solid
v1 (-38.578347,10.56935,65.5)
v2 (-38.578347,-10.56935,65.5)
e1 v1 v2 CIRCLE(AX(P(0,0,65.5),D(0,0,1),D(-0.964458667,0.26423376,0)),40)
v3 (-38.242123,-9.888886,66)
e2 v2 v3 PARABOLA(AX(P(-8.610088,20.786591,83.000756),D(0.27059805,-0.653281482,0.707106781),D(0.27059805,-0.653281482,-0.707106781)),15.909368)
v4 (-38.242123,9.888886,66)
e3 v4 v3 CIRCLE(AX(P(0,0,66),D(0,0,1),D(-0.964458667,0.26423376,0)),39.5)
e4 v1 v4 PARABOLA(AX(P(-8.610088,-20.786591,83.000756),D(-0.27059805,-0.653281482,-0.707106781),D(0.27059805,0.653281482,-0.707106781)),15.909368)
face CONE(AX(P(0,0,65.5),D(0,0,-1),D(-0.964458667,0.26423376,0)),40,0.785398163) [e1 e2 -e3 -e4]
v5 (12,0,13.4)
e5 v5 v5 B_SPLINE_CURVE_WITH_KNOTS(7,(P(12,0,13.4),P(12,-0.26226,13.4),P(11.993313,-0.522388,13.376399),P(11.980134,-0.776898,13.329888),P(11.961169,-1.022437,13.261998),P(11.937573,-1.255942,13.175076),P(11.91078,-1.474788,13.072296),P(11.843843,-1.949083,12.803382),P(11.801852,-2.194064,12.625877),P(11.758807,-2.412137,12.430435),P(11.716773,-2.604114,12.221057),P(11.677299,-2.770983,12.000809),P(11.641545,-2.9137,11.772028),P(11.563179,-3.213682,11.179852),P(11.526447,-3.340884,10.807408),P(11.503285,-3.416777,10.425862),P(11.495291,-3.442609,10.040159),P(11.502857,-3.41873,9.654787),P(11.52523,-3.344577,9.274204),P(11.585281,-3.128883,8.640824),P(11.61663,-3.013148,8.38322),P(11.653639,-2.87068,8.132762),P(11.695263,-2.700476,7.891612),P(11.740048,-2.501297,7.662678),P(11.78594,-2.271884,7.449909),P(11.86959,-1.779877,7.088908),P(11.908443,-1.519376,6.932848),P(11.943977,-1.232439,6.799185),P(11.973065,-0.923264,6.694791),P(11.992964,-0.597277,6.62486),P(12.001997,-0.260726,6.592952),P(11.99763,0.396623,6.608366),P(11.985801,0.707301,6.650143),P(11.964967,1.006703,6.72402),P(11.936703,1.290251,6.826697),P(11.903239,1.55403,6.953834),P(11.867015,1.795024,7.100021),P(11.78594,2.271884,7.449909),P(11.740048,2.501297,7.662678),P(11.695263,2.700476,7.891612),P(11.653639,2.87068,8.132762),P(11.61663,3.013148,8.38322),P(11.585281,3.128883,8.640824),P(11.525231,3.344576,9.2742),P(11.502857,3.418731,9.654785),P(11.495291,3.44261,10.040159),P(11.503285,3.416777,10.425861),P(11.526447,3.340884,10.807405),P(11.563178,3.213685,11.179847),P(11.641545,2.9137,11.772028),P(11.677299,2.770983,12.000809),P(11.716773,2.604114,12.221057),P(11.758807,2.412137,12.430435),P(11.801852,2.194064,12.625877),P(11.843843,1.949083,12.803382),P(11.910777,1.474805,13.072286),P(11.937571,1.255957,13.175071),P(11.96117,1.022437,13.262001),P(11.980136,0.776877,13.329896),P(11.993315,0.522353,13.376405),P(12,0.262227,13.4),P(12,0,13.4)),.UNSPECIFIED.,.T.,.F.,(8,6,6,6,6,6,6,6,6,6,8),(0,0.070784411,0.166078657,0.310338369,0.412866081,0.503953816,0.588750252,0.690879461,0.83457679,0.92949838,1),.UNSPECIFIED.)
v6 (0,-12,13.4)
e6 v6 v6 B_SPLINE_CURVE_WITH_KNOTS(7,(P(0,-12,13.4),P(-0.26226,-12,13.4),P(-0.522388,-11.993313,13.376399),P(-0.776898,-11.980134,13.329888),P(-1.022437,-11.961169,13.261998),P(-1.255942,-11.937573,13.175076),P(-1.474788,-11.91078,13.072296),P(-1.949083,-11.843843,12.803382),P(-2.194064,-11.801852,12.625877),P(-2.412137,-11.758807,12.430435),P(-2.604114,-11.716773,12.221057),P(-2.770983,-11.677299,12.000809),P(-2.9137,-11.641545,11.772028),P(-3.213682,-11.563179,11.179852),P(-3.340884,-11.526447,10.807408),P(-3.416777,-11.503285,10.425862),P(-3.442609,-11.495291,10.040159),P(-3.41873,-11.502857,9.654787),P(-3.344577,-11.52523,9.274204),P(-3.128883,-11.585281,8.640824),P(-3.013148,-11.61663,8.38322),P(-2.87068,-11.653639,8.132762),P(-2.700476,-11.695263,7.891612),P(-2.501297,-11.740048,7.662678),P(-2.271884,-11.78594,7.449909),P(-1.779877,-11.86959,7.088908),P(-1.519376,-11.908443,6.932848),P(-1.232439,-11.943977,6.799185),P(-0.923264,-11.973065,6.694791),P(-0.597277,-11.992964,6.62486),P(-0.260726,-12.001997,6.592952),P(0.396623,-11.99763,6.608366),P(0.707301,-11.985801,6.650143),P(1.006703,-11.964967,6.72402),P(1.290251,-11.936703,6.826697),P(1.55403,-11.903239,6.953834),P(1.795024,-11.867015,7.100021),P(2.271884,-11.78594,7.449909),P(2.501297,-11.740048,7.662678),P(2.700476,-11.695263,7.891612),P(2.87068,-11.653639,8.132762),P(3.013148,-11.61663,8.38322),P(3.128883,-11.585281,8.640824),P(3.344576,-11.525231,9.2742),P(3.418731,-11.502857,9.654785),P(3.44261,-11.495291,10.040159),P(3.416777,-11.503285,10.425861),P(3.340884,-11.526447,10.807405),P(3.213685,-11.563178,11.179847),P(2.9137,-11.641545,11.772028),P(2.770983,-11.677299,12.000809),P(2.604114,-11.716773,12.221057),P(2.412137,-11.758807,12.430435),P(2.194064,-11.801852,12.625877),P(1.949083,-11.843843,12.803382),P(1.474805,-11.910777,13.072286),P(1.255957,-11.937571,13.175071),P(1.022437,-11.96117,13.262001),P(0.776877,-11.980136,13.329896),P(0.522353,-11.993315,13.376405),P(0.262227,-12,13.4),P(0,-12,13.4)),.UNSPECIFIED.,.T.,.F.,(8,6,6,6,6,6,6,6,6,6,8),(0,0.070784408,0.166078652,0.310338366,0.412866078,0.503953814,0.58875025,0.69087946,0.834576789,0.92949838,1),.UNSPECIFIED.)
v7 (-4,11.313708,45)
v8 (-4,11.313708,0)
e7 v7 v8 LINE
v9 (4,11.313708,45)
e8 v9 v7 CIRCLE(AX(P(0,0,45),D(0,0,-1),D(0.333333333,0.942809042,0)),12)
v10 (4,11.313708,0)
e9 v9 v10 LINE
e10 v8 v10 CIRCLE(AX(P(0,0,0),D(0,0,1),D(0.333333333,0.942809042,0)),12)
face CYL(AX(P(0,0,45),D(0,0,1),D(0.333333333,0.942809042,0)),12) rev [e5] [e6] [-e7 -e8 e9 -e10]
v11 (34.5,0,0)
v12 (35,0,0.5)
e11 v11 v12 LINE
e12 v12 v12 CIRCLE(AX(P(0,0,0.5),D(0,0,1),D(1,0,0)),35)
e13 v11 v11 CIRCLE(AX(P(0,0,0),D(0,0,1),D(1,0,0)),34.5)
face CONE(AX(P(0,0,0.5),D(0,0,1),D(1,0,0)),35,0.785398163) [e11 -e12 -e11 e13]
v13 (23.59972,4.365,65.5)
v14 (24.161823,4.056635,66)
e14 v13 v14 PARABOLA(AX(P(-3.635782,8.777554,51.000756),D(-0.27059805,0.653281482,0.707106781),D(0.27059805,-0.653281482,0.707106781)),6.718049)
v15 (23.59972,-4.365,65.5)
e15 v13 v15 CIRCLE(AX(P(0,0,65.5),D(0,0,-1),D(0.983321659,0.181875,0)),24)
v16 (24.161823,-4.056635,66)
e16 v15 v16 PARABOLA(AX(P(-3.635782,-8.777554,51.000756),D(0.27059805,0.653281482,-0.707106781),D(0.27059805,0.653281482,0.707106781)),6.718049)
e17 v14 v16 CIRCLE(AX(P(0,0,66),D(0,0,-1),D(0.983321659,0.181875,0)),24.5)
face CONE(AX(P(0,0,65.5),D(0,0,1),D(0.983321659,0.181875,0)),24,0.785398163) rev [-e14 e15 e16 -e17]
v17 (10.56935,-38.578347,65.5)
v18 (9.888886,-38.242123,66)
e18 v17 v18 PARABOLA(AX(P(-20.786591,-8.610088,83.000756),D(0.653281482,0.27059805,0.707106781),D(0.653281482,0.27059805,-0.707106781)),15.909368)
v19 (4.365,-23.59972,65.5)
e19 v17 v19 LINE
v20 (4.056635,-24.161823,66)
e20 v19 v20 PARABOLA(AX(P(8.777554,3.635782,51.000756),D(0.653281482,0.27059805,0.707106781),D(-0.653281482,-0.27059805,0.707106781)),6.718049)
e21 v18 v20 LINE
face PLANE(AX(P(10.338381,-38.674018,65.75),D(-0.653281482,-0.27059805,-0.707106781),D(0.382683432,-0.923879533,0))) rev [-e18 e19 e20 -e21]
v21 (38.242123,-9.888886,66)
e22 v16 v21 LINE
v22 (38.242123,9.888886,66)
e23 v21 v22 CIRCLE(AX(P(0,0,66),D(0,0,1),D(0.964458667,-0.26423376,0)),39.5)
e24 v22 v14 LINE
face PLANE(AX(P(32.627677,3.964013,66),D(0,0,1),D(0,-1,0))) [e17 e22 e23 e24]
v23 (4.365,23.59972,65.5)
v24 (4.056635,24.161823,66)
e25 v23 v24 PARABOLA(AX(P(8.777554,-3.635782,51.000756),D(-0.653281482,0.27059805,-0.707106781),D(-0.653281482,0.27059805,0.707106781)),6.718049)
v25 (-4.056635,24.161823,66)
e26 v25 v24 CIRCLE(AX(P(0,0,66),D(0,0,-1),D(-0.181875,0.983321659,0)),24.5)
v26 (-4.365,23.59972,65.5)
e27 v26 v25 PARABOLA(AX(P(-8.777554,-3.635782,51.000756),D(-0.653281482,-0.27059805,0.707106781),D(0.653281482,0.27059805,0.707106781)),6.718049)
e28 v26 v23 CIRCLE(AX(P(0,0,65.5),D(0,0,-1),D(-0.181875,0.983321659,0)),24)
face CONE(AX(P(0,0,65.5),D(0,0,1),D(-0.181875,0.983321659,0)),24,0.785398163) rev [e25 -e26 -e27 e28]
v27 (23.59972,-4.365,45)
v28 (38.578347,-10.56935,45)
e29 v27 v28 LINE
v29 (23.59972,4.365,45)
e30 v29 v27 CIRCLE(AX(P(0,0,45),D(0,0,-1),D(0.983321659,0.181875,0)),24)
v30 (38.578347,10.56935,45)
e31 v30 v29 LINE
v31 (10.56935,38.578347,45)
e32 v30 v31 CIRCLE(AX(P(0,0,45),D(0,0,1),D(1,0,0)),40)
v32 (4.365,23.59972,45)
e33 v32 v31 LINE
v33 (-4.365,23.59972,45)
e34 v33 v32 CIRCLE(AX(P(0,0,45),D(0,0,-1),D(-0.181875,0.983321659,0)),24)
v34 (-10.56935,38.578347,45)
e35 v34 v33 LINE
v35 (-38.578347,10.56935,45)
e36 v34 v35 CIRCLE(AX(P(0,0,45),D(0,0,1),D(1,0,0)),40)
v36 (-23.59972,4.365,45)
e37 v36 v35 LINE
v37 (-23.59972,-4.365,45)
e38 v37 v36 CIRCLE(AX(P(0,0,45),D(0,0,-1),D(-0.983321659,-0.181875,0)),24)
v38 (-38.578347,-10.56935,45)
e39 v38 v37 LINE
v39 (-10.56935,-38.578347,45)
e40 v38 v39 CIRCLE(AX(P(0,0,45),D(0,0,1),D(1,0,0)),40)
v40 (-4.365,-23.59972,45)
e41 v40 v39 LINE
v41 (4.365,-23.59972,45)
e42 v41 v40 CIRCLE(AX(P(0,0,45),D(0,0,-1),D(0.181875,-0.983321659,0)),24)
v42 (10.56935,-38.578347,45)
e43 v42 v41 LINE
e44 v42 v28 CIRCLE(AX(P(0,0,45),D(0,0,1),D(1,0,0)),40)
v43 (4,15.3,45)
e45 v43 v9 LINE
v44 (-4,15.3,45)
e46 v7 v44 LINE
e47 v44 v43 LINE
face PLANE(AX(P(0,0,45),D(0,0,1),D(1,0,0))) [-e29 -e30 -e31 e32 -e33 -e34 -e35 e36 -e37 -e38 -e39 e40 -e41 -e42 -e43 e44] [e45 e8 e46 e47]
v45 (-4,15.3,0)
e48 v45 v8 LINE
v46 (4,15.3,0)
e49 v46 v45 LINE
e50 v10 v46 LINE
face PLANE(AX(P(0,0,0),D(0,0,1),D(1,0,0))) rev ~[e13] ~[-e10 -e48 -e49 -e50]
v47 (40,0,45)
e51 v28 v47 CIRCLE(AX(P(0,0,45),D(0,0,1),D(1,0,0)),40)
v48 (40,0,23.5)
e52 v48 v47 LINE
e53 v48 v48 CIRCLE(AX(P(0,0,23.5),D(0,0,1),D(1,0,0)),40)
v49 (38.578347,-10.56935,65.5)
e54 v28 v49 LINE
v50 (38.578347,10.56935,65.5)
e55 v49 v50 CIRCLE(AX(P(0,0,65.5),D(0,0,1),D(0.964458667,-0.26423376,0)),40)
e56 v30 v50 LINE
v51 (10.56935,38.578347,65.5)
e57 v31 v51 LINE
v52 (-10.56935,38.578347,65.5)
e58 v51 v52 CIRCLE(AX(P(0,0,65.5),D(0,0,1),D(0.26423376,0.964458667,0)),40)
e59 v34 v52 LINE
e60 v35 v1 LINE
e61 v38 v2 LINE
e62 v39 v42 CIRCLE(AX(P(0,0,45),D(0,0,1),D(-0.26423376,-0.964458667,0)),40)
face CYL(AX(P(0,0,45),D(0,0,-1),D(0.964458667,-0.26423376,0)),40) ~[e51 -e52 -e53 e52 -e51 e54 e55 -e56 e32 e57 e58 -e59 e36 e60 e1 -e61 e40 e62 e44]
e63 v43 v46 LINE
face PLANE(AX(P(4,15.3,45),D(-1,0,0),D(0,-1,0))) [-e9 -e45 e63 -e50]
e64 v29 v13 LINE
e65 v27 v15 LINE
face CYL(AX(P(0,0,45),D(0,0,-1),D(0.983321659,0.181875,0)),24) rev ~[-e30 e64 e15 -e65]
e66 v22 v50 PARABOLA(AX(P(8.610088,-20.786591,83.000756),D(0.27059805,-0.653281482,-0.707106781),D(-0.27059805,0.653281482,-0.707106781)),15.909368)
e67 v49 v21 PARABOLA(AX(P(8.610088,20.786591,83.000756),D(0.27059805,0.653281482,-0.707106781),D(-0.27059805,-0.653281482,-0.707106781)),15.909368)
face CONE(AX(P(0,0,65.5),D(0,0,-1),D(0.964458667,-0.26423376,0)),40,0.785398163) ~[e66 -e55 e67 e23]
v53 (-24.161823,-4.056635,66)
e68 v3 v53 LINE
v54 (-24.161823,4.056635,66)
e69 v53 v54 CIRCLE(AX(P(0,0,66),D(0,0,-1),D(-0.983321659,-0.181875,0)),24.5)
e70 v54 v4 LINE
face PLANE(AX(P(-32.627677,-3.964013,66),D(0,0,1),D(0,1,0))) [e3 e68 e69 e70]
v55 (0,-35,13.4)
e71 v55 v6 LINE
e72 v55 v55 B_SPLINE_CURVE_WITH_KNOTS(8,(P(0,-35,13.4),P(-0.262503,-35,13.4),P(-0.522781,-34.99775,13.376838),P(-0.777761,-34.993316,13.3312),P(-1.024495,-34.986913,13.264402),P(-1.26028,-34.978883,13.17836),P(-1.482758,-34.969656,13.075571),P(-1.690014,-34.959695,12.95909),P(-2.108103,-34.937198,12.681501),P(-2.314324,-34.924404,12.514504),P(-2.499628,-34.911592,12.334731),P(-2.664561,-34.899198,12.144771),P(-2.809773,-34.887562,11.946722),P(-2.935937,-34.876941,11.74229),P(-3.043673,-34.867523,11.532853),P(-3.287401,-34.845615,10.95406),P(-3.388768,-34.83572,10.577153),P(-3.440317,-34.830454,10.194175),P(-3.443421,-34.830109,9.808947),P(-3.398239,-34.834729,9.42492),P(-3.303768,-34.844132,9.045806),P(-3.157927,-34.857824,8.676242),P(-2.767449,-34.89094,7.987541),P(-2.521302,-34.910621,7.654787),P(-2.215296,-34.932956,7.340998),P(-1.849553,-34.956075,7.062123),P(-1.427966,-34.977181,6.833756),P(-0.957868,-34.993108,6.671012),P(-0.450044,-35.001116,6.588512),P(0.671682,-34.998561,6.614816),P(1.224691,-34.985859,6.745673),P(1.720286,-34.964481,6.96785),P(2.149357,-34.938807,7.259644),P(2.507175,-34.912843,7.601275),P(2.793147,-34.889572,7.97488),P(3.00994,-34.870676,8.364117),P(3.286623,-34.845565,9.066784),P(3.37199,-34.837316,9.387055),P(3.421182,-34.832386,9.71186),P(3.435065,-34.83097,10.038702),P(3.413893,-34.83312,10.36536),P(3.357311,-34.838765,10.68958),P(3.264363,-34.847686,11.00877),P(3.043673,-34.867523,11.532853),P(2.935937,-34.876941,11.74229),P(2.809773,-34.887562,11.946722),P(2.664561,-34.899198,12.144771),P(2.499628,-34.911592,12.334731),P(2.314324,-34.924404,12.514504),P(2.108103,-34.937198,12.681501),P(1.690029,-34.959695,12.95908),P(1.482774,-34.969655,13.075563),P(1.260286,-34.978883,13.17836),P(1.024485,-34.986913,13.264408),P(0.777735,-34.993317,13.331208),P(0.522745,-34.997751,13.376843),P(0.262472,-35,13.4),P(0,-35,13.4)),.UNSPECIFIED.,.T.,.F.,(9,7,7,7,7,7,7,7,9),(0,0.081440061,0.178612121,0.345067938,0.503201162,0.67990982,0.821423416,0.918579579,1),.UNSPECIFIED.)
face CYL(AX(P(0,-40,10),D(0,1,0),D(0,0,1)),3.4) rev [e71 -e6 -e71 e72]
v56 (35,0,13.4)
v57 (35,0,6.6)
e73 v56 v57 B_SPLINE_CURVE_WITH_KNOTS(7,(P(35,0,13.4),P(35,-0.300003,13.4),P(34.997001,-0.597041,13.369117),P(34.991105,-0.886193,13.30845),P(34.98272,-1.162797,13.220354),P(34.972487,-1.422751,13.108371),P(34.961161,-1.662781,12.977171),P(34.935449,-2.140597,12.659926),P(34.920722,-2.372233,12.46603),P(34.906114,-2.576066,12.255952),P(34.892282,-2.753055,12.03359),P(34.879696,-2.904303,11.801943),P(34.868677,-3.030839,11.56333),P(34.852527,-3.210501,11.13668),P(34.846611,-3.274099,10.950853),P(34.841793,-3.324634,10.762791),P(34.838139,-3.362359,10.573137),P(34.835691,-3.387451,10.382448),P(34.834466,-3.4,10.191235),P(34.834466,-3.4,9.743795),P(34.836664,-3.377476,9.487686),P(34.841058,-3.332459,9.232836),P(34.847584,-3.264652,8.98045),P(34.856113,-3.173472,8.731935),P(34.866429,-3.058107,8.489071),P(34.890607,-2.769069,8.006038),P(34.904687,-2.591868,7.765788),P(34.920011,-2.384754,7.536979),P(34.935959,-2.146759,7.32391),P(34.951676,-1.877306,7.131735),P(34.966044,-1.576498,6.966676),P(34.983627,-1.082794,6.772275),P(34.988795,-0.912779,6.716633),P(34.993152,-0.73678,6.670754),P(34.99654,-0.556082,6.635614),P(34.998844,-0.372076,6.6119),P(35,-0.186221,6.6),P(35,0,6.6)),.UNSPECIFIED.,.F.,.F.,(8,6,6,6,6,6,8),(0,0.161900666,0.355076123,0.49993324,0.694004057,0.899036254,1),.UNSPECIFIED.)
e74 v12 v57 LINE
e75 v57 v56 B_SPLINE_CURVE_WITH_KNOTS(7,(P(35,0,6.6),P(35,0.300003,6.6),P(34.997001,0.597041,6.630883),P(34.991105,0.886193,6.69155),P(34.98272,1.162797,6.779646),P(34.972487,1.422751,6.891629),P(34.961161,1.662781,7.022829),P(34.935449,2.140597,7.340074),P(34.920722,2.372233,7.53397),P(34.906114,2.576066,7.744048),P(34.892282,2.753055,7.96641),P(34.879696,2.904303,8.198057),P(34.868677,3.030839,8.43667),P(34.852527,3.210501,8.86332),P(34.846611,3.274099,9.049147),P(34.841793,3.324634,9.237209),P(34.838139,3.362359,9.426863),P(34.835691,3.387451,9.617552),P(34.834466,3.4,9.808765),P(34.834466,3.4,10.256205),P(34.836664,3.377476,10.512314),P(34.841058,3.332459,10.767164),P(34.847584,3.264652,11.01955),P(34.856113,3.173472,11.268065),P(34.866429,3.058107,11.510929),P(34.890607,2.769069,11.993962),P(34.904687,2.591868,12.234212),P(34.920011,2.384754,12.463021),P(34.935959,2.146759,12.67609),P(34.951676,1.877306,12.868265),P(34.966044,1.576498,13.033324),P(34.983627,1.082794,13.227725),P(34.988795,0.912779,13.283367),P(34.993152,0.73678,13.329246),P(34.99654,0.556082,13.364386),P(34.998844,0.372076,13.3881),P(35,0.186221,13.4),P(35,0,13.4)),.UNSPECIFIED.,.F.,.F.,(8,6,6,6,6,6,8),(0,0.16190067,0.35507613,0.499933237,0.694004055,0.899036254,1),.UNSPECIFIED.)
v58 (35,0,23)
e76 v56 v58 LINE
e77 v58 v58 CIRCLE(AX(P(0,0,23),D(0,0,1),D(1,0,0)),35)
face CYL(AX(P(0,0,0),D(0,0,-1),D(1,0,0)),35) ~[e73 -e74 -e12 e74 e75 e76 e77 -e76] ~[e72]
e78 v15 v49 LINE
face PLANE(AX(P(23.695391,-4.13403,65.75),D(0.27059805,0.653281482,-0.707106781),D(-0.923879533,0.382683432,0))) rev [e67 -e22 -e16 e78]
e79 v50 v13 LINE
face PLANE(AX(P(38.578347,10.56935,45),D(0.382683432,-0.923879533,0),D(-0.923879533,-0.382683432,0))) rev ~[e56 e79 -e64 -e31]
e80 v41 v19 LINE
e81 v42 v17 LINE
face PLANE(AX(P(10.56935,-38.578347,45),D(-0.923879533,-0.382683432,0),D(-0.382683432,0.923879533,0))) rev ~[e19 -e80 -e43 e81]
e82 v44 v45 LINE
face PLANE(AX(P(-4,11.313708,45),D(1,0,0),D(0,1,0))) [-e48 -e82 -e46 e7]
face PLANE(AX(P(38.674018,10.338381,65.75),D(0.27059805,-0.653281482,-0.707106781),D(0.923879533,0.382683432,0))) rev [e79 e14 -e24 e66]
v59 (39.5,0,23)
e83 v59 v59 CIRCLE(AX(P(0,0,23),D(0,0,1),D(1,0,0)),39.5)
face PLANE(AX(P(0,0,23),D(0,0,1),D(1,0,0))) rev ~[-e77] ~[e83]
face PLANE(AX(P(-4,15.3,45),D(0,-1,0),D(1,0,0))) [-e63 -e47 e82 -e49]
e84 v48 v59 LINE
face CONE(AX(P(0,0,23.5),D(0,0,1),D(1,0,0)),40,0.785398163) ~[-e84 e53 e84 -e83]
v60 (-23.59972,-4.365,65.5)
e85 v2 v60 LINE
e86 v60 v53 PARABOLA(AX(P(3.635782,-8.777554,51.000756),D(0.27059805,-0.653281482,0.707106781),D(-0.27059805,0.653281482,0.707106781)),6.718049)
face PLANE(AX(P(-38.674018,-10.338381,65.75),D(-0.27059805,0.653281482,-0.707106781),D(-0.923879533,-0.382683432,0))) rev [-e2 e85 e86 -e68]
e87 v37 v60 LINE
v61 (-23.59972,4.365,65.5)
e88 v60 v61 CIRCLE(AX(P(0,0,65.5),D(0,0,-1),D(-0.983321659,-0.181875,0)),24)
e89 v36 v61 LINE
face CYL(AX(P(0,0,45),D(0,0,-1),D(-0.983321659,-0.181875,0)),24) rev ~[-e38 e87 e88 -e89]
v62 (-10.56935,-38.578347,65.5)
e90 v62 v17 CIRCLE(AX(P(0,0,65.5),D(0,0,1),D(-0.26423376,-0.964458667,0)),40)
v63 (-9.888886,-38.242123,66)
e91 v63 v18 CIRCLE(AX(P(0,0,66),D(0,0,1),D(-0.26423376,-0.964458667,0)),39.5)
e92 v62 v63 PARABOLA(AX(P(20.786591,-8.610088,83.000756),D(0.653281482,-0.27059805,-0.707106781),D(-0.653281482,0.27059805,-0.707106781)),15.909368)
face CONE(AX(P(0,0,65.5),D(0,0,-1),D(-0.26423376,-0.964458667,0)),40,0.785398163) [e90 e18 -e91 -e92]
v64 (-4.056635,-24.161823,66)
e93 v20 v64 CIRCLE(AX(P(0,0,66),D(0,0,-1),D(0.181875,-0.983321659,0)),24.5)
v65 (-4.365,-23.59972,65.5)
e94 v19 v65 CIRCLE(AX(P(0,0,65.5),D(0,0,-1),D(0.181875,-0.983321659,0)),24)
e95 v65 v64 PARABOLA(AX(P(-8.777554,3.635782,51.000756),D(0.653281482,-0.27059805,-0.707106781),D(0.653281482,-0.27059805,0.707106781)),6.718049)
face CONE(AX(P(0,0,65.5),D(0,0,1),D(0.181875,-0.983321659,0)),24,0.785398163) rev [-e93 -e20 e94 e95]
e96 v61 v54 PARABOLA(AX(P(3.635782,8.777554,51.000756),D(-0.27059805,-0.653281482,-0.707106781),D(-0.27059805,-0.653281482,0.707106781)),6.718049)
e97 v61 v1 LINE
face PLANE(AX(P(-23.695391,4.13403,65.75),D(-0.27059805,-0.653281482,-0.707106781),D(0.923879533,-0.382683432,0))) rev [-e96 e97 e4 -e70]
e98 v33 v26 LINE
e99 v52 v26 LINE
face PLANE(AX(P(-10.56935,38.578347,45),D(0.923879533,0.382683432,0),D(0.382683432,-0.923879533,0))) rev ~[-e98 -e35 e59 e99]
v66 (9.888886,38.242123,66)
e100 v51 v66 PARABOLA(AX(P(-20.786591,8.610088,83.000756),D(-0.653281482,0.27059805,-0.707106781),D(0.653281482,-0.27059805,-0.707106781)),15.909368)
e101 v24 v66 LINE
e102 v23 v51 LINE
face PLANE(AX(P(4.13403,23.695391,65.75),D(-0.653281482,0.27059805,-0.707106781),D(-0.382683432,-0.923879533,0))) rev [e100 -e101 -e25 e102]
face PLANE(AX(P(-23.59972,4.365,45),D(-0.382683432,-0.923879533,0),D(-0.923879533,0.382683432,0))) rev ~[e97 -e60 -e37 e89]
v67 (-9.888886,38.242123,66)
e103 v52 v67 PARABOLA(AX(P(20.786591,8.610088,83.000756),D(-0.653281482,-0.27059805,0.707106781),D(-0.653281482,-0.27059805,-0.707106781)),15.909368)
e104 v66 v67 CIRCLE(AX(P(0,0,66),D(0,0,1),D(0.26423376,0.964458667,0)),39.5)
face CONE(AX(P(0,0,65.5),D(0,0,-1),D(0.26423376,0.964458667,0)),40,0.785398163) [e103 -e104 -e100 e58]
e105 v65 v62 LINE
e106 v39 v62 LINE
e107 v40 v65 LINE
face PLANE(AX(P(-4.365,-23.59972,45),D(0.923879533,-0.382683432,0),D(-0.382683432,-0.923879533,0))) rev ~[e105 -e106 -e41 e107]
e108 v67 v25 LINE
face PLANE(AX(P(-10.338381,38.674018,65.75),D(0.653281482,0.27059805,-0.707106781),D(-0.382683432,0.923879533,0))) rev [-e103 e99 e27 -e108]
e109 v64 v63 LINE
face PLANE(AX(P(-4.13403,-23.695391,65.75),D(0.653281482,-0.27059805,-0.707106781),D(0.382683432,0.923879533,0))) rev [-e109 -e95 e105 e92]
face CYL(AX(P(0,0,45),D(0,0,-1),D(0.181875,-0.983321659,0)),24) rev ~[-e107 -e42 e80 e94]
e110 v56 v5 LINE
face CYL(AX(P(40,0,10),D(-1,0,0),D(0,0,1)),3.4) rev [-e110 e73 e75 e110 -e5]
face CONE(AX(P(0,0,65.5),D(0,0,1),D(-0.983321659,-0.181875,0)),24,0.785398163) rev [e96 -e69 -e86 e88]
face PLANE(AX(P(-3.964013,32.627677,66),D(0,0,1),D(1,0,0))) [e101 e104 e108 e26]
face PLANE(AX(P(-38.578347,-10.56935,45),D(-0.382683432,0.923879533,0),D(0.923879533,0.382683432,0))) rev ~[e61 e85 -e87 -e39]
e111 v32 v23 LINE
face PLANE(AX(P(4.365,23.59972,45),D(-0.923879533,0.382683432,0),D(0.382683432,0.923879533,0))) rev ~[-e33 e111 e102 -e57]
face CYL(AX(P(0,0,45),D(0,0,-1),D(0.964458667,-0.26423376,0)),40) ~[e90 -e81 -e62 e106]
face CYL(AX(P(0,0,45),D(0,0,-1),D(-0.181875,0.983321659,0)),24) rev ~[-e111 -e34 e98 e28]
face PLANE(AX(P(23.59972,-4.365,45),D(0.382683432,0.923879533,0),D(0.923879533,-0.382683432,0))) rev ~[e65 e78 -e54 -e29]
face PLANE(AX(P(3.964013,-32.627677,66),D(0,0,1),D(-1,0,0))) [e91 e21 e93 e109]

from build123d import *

# Parameters (mm, degrees)
SKETCH1_R                    = 35
BOSS_EXTRUDE1_DEPTH          = 23
SKETCH2_R                    = 40
BOSS_EXTRUDE2_DEPTH          = 22
BOSS_EXTRUDE3_DEPTH          = 21
CHAMFER1_SIZE                = 0.5
CIRPATTERN1_COUNT            = 4
CHAMFER1_OF_CIRPATTERN1_SIZE = 0.5
CUT_EXTRUDE1_REACH           = 74.284
CIRPATTERN2_COUNT            = 2
CIRPATTERN2_ANGLE            = 90.0000000000002
CHAMFER2_SIZE                = 0.5


with BuildPart() as part:
    # Sketch1 → Boss-Extrude1 (new body)
    with BuildSketch(Plane.XY):
        Circle(SKETCH1_R)
    extrude(amount=BOSS_EXTRUDE1_DEPTH)

    # Sketch2 → Boss-Extrude2 (add)
    with BuildSketch(Plane.XY.offset(23)):
        Circle(SKETCH2_R)
    extrude(amount=BOSS_EXTRUDE2_DEPTH)

    # Sketch3 → Boss-Extrude3 (add)
    with BuildSketch(Plane.XY.offset(45)):
        with BuildLine():
            ThreePointArc((-4.365000000000002, 23.599719807658737), (-2.1916574340201898, 23.89972045217065), (-3.535e-13, 24.000000000000004))
            Line((0, 24.000000000000004), (0, 40))
            ThreePointArc((2.45e-15, 40), (-5.332266542853259, 39.64299349842249), (-10.569350394509378, 38.578346675798386))
            Line((-10.569350394509376, 38.578346675798386), (-4.365000000000001, 23.599719807658737))
        make_face()
        with BuildLine():
            Line((0, 40), (0, 24.000000000000004))
            ThreePointArc((-3.535e-13, 24.000000000000004), (2.1916574340198385, 23.899720452170683), (4.365000000000001, 23.599719807658737))
            Line((4.365000000000001, 23.599719807658737), (10.569350394509376, 38.578346675798386))
            ThreePointArc((10.569350394509375, 38.578346675798386), (5.332266542853264, 39.64299349842249), (2.45e-15, 40))
        make_face()
    boss_extrude3 = extrude(amount=BOSS_EXTRUDE3_DEPTH)

    # Chamfer1
    chamfer1_edges = [part.edges().sort_by_distance(p)[0] for p in [
        (-2.22e-15, 24.000000000000007, 66),
        (7.467175197254688, 31.08903324172856, 66),
        (-5.11e-15, 40.000000000000014, 66),
        (-7.467175197254688, 31.08903324172856, 66),
    ]]
    chamfer(chamfer1_edges, length=CHAMFER1_SIZE)

    # CirPattern1: Boss-Extrude3 ×4 about axis
    cirpattern1_axis = Axis((-1e-15, 7.77e-15, 0), (0, 0, 1))
    for i in range(1, CIRPATTERN1_COUNT):
        add(boss_extrude3.rotate(cirpattern1_axis, i * 360 / CIRPATTERN1_COUNT))

    # Chamfer1 of CirPattern1
    chamfer1_of_cirpattern1_edges = [part.edges().sort_by_distance(p)[0] for p in [
        (-24, 8.02e-15, 66),
        (-31.089033241728554, 7.467175197254699, 66),
        (-40.00000000000001, 6.11e-15, 66),
        (-31.089033241728554, -7.467175197254678, 66),
        (-2.72e-15, -23.999999999999993, 66),
        (-7.467175197254694, -31.089033241728547, 66),
        (-1.79e-15, -40, 66),
        (7.467175197254683, -31.089033241728547, 66),
        (24, 4.58e-15, 66),
        (31.089033241728554, -7.4671751972546865, 66),
        (40.00000000000001, 4.52e-15, 66),
        (31.089033241728554, 7.46717519725469, 66),
    ]]
    chamfer(chamfer1_of_cirpattern1_edges, length=CHAMFER1_OF_CIRPATTERN1_SIZE)

    # Sketch4 → Cut-Extrude1 (cut, up to next)
    with BuildSketch(Plane.XY.offset(45), mode=Mode.PRIVATE) as cut_extrude1_sk1:
        with BuildLine():
            Line((-4, 11.31370849898476), (-4, 15.3))
            Line((-4, 15.3), (4, 15.3))
            Line((4, 15.3), (4, 11.31370849898476))
            ThreePointArc((4, 11.31370849898476), (-2.2e-15, -11.999999999999998), (-4, 11.31370849898476))
        make_face()
    cut_extrude1_tool1 = extrude(cut_extrude1_sk1.sketch, amount=-CUT_EXTRUDE1_REACH, mode=Mode.PRIVATE) & part.part
    add(cut_extrude1_tool1.solids().sort_by_distance((0, 0.794205, 45))[0], mode=Mode.SUBTRACT)

    # Sketch6 → M8x1.25 Tapped Hole1 (revolve, cut)
    with BuildSketch(Plane(origin=(0, 0, 10), x_dir=(0, 0, 1), z_dir=(0, 1, 0))):
        Polygon((0, 0), (-9.8e-15, 40), (3.39999999999999, 40), (3.399999999999995, 3.6e-16), align=None)
    m8x1_25_tapped_hole1 = revolve(axis=Axis((-6.349999999999991, 0, 10), (1, 0, 0)), mode=Mode.SUBTRACT)

    # CirPattern2: M8x1.25 Tapped Hole1 ×2 about axis
    cirpattern2_axis = Axis((0, 0, 0), (0, 0, -1))
    for i in range(1, CIRPATTERN2_COUNT):
        add(m8x1_25_tapped_hole1.rotate(cirpattern2_axis, i * CIRPATTERN2_ANGLE / (CIRPATTERN2_COUNT - 1)), mode=Mode.SUBTRACT)

    # Chamfer2
    chamfer2_edges = [part.edges().sort_by_distance(p)[0] for p in [
        (-35, 4.29e-15, 0),
        (-40, 4.9e-15, 23),
    ]]
    chamfer(chamfer2_edges, length=CHAMFER2_SIZE)


solid = part.part
